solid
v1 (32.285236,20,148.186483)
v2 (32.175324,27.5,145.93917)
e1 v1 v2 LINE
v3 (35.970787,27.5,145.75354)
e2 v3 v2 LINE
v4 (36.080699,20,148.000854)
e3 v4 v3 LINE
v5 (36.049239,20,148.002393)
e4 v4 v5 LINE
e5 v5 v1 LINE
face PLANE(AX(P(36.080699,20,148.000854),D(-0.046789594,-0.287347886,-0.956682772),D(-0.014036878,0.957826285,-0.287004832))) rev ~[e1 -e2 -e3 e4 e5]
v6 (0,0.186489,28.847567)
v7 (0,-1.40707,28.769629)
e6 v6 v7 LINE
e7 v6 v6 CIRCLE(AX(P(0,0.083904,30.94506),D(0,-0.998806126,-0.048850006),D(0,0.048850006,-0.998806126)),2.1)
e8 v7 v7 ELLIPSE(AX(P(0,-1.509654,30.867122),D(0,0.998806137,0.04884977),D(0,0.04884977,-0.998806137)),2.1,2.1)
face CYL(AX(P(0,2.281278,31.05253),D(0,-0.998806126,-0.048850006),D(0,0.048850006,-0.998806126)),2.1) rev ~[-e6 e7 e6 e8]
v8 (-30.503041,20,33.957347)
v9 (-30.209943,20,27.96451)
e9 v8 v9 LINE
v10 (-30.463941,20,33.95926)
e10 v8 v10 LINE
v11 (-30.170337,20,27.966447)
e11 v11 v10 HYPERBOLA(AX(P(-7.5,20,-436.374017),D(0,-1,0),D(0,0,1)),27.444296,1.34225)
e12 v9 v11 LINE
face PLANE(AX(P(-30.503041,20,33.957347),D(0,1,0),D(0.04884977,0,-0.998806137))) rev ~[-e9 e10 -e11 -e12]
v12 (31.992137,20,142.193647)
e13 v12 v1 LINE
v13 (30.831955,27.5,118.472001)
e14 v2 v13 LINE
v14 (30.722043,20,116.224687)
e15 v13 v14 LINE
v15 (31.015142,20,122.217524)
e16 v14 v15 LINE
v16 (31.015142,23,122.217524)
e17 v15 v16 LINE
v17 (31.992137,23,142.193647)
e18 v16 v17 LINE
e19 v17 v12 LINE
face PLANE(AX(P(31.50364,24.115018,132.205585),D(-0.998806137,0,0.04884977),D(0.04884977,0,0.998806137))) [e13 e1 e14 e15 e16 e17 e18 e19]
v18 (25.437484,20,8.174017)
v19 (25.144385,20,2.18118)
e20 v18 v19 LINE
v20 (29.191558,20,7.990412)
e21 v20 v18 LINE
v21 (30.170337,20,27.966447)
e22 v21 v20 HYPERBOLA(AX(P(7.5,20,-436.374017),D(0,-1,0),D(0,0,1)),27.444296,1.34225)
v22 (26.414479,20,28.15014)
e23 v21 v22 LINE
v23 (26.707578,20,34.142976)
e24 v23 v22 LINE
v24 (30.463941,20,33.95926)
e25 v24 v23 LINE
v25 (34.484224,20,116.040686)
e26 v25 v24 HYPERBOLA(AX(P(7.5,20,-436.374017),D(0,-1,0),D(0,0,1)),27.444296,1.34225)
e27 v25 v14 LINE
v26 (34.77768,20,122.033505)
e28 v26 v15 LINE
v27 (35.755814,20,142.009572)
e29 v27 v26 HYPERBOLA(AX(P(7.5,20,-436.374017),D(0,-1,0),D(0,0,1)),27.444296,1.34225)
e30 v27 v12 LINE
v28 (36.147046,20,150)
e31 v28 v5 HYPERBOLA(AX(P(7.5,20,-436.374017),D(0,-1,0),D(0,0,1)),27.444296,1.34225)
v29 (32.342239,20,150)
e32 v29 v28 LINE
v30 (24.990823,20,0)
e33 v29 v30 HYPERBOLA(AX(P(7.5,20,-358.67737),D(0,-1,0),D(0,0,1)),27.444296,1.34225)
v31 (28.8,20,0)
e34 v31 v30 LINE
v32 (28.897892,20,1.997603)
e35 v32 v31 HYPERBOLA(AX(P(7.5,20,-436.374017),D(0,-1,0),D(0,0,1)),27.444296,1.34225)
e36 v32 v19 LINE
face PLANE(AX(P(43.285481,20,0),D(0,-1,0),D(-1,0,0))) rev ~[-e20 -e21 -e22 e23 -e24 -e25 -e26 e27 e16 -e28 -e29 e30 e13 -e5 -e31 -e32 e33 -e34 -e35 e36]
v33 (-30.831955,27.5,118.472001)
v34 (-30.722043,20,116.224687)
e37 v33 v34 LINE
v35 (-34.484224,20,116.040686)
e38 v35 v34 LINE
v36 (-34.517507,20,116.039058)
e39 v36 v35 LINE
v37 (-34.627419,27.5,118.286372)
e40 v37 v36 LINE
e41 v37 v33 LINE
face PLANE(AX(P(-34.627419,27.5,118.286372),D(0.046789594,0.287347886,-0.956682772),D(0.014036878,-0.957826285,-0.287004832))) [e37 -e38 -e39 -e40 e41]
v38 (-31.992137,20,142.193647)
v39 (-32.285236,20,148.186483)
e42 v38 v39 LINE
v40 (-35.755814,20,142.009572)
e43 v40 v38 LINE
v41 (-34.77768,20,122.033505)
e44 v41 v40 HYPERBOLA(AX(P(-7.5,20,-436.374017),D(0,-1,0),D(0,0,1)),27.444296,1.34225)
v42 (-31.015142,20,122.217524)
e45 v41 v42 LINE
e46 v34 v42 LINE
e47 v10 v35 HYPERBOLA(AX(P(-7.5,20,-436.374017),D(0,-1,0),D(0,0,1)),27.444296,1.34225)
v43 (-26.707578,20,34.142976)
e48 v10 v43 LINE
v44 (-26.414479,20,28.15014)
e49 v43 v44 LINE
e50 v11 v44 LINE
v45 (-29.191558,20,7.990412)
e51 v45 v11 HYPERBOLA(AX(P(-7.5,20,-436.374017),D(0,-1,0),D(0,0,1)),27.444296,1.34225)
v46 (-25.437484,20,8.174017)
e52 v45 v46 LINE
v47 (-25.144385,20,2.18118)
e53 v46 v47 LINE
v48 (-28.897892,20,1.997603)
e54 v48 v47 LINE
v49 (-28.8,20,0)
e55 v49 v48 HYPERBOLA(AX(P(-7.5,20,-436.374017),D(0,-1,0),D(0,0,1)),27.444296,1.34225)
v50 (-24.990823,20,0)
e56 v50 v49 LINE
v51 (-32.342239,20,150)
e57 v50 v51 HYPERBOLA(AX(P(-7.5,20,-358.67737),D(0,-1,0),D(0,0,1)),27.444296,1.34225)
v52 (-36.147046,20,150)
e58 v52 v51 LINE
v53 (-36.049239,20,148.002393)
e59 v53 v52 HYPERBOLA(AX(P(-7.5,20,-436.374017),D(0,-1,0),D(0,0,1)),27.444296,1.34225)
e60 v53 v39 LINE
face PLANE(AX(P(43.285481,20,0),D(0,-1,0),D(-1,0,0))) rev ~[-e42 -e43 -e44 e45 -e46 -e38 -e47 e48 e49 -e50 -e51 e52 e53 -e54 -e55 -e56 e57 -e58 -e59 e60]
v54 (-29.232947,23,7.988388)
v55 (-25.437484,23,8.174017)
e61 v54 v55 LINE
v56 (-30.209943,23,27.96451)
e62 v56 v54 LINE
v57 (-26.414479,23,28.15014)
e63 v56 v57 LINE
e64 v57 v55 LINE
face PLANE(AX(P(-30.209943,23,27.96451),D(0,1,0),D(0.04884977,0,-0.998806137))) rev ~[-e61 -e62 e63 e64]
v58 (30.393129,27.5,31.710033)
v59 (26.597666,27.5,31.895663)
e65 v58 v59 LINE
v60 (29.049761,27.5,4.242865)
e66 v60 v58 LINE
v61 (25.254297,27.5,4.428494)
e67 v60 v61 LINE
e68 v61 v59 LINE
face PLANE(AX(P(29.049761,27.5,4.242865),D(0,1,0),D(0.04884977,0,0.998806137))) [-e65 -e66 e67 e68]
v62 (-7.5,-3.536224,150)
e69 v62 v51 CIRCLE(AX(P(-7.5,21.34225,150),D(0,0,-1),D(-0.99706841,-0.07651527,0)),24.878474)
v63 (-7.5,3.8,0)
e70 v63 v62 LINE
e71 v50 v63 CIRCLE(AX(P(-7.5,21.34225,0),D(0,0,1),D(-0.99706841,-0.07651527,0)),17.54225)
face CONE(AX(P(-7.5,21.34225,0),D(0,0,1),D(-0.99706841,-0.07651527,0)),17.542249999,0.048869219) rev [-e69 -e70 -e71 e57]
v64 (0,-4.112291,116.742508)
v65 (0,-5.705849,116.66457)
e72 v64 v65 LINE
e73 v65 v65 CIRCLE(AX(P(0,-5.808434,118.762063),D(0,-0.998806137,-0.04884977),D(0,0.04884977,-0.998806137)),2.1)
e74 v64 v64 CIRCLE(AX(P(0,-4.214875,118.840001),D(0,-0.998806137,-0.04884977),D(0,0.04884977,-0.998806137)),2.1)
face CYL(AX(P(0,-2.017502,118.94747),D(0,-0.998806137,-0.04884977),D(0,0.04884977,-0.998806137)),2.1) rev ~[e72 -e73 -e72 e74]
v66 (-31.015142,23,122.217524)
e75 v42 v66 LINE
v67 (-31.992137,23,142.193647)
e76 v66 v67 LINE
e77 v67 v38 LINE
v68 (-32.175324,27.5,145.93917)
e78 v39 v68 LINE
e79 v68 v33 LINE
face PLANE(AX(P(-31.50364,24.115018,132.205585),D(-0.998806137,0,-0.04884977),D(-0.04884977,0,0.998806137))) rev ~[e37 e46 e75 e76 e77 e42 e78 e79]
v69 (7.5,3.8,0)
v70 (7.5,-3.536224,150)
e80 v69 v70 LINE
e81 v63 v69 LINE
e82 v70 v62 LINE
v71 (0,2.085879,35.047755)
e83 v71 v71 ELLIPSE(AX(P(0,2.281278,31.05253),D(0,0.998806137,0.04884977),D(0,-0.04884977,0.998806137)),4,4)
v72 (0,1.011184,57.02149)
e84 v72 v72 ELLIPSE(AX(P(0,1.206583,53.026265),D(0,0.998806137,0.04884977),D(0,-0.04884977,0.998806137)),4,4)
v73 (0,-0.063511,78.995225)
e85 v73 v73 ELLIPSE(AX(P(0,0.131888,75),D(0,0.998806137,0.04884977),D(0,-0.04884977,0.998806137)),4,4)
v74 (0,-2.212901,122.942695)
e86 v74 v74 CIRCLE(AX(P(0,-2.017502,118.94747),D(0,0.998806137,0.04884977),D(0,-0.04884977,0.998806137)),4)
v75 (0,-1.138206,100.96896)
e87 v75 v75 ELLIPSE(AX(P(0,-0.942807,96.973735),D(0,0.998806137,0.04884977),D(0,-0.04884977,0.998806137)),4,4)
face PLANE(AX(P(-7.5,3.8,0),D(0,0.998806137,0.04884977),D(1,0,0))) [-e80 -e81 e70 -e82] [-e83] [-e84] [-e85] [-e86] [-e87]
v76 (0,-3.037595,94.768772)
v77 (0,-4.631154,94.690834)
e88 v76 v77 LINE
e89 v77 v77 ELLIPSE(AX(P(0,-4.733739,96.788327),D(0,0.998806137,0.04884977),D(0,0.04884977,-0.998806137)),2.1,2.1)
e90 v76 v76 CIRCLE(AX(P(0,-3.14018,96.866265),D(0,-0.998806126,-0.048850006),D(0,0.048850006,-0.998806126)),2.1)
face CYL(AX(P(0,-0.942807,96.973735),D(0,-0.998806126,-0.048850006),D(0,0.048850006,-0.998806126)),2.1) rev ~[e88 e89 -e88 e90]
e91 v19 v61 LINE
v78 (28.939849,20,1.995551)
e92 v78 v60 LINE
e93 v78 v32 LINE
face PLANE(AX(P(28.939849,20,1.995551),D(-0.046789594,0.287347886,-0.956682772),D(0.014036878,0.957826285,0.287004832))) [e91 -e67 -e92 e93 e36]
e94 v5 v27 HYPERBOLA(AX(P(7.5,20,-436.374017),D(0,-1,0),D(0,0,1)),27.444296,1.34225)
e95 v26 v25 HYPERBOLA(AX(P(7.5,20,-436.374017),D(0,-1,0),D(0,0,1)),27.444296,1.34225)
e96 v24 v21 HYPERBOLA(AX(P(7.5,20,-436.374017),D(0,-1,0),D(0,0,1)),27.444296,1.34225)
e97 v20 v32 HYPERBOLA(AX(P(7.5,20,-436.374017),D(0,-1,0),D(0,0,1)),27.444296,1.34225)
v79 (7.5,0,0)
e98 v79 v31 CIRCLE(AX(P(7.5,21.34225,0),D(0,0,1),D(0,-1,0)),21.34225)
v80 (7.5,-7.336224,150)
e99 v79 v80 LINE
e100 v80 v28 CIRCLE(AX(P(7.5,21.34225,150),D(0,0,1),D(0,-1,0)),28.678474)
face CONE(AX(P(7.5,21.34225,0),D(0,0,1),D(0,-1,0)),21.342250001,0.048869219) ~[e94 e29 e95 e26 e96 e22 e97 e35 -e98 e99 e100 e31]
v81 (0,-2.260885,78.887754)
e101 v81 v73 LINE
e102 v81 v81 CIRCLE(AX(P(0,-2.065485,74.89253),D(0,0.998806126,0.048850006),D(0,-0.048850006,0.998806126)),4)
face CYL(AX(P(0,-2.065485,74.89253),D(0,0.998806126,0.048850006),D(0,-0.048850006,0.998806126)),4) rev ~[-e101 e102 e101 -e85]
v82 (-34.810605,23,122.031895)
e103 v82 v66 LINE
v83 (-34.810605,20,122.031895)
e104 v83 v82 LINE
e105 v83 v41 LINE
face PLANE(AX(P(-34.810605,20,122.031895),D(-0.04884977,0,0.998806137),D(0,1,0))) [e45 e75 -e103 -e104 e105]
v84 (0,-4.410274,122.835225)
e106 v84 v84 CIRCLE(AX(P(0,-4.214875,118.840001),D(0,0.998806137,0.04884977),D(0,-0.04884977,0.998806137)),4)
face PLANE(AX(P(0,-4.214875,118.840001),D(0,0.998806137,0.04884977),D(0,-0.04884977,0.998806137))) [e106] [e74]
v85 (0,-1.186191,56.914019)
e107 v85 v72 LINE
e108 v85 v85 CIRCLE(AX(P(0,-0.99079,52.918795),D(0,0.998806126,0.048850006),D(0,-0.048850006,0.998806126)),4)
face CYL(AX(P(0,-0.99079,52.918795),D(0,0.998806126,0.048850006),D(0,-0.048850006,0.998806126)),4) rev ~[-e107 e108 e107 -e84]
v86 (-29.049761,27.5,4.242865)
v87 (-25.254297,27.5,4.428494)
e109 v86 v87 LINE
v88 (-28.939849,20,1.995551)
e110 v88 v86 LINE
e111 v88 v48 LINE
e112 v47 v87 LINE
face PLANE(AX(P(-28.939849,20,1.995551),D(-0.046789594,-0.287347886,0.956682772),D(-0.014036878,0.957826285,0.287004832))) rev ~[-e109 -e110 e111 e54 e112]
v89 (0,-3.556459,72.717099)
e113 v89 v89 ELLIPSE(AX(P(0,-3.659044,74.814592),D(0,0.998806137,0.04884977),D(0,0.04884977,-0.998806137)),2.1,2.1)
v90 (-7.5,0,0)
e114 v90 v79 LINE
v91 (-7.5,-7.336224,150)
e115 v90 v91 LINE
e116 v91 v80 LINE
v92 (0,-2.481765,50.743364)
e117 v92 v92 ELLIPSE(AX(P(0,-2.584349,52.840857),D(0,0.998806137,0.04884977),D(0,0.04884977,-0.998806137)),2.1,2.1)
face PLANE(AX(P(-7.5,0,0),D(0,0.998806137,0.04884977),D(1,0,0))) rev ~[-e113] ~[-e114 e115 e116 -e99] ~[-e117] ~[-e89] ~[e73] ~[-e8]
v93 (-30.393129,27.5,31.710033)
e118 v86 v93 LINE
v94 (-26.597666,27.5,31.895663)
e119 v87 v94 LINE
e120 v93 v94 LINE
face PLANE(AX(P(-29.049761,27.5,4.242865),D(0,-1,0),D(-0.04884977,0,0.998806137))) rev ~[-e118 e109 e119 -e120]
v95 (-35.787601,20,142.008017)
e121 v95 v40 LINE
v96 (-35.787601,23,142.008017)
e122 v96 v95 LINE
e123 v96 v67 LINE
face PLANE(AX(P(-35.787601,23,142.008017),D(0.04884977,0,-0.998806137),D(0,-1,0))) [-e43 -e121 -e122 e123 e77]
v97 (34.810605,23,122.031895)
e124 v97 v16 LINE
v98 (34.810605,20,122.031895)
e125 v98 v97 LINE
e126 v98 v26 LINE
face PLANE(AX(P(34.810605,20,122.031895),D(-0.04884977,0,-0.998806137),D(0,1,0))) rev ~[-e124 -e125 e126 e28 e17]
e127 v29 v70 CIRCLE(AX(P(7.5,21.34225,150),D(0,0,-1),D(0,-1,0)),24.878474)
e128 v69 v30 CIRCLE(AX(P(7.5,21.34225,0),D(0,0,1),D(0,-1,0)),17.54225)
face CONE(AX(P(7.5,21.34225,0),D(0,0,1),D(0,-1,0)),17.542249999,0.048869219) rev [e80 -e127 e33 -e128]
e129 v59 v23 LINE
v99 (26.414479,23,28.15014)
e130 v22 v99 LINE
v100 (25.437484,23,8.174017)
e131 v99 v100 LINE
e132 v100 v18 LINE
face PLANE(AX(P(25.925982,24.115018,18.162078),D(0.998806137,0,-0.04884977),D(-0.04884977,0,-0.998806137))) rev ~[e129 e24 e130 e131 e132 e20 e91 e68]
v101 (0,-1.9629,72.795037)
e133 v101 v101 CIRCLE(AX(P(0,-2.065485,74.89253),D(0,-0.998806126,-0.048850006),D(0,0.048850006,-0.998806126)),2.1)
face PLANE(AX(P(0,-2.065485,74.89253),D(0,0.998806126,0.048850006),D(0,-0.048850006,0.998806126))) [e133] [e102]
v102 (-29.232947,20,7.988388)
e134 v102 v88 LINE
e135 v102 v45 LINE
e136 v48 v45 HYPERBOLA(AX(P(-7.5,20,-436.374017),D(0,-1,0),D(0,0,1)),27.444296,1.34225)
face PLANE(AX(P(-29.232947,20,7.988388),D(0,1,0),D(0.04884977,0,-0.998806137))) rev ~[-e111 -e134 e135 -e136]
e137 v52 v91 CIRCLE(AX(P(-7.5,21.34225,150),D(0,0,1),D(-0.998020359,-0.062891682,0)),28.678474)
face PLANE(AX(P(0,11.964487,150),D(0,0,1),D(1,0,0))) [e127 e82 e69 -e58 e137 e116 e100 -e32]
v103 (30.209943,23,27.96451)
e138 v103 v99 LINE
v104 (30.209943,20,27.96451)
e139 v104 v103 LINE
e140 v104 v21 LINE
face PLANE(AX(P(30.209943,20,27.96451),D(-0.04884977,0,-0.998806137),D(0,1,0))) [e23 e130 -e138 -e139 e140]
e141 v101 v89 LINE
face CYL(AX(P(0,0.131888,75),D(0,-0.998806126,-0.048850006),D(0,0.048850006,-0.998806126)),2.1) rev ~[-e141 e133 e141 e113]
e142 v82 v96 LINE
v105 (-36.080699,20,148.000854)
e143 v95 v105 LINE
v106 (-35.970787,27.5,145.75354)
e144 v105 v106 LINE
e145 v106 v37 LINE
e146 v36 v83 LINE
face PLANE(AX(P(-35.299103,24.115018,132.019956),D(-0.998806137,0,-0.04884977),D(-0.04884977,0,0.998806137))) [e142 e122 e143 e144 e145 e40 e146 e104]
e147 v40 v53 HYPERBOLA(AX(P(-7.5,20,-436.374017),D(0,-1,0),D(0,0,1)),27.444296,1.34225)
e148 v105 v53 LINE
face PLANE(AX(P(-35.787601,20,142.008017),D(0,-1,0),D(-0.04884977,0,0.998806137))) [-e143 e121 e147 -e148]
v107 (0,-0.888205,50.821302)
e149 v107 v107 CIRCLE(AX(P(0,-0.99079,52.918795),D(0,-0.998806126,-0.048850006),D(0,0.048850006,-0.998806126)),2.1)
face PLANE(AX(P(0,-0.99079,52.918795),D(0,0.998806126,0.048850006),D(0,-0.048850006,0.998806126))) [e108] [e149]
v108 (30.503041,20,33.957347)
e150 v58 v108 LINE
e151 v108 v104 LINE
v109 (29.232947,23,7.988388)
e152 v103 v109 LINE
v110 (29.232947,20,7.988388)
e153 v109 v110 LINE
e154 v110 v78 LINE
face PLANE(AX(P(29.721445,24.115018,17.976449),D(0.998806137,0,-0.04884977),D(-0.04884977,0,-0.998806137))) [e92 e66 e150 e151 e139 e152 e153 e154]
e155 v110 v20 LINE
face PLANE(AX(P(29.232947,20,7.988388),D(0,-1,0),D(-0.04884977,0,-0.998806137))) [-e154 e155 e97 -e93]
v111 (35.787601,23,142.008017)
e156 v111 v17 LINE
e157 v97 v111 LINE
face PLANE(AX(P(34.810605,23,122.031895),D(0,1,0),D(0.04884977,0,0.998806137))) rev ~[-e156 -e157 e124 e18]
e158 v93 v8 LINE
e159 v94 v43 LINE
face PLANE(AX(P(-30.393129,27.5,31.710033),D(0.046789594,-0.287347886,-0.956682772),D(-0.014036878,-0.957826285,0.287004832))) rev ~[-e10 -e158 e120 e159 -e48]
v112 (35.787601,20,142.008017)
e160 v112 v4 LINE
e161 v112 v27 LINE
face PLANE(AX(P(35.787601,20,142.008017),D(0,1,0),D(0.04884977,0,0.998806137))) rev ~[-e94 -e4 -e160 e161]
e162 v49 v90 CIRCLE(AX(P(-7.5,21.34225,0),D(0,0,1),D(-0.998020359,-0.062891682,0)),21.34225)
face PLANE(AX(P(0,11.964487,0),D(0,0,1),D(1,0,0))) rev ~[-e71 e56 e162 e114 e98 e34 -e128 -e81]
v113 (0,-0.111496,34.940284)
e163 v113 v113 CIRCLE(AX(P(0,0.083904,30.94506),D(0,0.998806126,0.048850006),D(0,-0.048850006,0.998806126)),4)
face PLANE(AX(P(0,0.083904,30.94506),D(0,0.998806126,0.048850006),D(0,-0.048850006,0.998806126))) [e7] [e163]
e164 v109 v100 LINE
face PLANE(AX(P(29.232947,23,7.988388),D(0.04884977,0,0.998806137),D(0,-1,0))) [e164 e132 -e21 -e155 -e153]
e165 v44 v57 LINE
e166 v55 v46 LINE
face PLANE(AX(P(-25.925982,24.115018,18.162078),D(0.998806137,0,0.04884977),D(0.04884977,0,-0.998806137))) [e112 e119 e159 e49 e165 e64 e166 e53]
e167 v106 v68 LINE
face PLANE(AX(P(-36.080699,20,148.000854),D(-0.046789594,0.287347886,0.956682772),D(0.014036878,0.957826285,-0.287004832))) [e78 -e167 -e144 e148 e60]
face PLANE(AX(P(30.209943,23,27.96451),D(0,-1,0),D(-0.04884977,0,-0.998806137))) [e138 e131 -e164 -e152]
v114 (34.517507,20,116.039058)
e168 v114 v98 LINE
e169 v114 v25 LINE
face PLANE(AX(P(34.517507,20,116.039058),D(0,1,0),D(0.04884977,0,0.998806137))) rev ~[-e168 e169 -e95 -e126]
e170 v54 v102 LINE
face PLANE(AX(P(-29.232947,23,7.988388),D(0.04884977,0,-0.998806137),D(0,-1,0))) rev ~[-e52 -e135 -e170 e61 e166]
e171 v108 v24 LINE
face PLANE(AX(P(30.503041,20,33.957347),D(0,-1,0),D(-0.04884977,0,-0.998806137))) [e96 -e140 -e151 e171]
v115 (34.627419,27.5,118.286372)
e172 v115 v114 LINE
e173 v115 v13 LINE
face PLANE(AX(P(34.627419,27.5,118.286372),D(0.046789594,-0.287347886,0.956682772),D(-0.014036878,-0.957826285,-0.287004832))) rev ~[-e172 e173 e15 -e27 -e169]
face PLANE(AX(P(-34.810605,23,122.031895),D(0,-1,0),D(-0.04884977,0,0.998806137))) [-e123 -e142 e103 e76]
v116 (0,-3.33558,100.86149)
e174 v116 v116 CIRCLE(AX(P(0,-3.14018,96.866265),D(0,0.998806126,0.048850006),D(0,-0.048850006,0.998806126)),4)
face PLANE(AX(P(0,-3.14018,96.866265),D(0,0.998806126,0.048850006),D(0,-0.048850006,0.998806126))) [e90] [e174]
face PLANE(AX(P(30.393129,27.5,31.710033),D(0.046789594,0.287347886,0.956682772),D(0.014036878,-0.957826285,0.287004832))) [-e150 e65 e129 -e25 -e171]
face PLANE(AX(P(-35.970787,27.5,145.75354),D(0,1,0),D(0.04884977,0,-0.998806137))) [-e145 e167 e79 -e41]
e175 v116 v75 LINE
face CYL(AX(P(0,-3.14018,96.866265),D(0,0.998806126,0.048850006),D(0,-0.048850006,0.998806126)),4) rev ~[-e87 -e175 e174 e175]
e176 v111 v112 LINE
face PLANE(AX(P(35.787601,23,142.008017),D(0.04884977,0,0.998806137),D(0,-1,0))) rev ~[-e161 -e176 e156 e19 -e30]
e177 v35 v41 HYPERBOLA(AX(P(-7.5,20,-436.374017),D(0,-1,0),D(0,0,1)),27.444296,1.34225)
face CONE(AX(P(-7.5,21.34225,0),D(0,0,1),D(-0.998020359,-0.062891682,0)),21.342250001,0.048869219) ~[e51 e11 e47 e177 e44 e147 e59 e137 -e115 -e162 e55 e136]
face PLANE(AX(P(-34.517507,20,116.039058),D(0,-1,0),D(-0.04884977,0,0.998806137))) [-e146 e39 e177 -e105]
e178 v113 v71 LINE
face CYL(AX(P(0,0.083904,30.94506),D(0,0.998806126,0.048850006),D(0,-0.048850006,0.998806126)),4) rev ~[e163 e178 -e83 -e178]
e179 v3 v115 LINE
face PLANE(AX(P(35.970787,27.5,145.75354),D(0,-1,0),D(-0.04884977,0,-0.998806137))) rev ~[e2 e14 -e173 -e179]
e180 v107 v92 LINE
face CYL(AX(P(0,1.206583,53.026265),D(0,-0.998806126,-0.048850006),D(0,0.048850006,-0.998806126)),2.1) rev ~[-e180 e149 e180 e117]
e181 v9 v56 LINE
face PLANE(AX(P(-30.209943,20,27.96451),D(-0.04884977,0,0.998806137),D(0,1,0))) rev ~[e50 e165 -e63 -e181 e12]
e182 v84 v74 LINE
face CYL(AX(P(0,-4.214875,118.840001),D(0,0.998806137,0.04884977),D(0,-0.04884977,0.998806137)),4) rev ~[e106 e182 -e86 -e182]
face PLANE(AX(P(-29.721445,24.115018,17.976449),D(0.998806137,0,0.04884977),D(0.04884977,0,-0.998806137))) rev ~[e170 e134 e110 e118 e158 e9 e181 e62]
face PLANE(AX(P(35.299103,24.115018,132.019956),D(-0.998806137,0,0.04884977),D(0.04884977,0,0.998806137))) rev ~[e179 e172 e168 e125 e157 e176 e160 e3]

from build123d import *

# Parameters (mm, degrees)
BOSS_EXTRUDE1_DEPTH                       = 150
BOSS_EXTRUDE1_DRAFT                       = -2.8
CUT_EXTRUDE1_DEPTH                        = 157.704023919
CUT_EXTRUDE1_DRAFT                        = -2.8
SKETCH4_W                                 = 86.570961738
SKETCH4_H                                 = 17.749989686
CUT_EXTRUDE2_DEPTH                        = 157.704023919
BOSS_EXTRUDE2_DEPTH                       = 3.8
BOSS_EXTRUDE3_DEPTH                       = 3.8
CBORE_FOR_M4_SBHCS1_D                     = 4.2
CBORE_FOR_M4_SBHCS1_CBORE_D               = 8
CBORE_FOR_M4_SBHCS1_CBORE_DEPTH           = 2.2
CBORE_FOR_M4_SBHCS1_ON_FACE_2_D           = 4.2
CBORE_FOR_M4_SBHCS1_ON_FACE_2_CBORE_D     = 8
CBORE_FOR_M4_SBHCS1_ON_FACE_2_CBORE_DEPTH = 2.2
CBORE_FOR_M4_SBHCS1_ON_FACE_3_D           = 4.2
CBORE_FOR_M4_SBHCS1_ON_FACE_3_CBORE_D     = 8
CBORE_FOR_M4_SBHCS1_ON_FACE_3_CBORE_DEPTH = 2.2
CBORE_FOR_M4_SBHCS1_ON_FACE_4_D           = 4.2
CBORE_FOR_M4_SBHCS1_ON_FACE_4_CBORE_D     = 8
CBORE_FOR_M4_SBHCS1_ON_FACE_4_CBORE_DEPTH = 2.2
CBORE_FOR_M4_SBHCS1_ON_FACE_5_D           = 4.2
CBORE_FOR_M4_SBHCS1_ON_FACE_5_CBORE_D     = 8
CBORE_FOR_M4_SBHCS1_ON_FACE_5_CBORE_DEPTH = 2.2


with BuildPart() as part:
    # Sketch1 → Boss-Extrude1 (with draft: the straight prism first)
    with BuildSketch(Plane.XY):
        with BuildLine():
            ThreePointArc((-28.8, 20), (-22.10898696, 5.783678888), (-7.5, 0))
            Line((-7.5, 0), (7.5, 0))
            ThreePointArc((7.5, 0), (22.10898696, 5.783678888), (28.8, 20))
            Line((28.8, 20), (-28.8, 20))
        make_face()
    extrude(amount=BOSS_EXTRUDE1_DEPTH)
    # Boss-Extrude1: the draft: its side faces are tilted about the plane it starts from
    boss_extrude1_sides = [part.faces().sort_by_distance(p)[0] for p in [
        (22.10898696, 5.783678888, 75),
        (0, 20, 75),
        (-22.10898696, 5.783678888, 75),
        (0, 0, 75),
    ]]
    draft(boss_extrude1_sides, Plane.XY, BOSS_EXTRUDE1_DRAFT)


with BuildPart() as cut_extrude1_tool:
    # Sketch1<3> → Cut-Extrude1 (with draft: the straight prism first)
    with BuildSketch(Plane.XY):
        with BuildLine():
            Line((24.990823308, 20), (-24.990823308, 20))
            ThreePointArc((-24.990823308, 20), (-19.420244335, 8.472195219), (-7.5, 3.8))
            Line((-7.5, 3.8), (7.5, 3.8))
            ThreePointArc((7.5, 3.8), (19.420244335, 8.472195219), (24.990823308, 20))
        make_face()
    extrude(amount=CUT_EXTRUDE1_DEPTH)
    # Cut-Extrude1: the draft: its side faces are tilted about the plane it starts from
    cut_extrude1_sides = [cut_extrude1_tool.faces().sort_by_distance(p)[0] for p in [
        (0, 3.8, 78.85201196),
        (19.420244335, 8.472195219, 78.85201196),
        (0, 20, 78.85201196),
        (-19.420244335, 8.472195219, 78.85201196),
    ]]
    draft(cut_extrude1_sides, Plane.XY, CUT_EXTRUDE1_DRAFT)


with BuildPart() as part_1:
    add(part.part)

    # Cut-Extrude1: cut by cut_extrude1_tool
    add(cut_extrude1_tool.part, mode=Mode.SUBTRACT)

    # Sketch4 → Cut-Extrude2 (cut, through all)
    with BuildSketch(Plane(origin=(0, 0, 0), x_dir=(-1, 0, 0), z_dir=(0, 0, -1))):
        with Locations((0, 28.874994843)):
            Rectangle(SKETCH4_W, SKETCH4_H)
    extrude(amount=-CUT_EXTRUDE2_DEPTH, mode=Mode.SUBTRACT)

    # Sketch5 → Boss-Extrude2 (add)
    with BuildSketch(Plane(origin=(28.773423739, 0, -1.407255195), x_dir=(-0.04884976979561336, 0, -0.9988061373414341), z_dir=(0.9988061373414341, 0, -0.04884976979561336))):
        Polygon((-149.586695466, 20), (-147.336695466, 27.5), (-119.836695466, 27.5), (-117.586695466, 20), (-123.586695466, 20), (-123.586695466, 23), (-143.586695466, 23), (-143.586695466, 20), align=None)
        Polygon((-9.40687337, 23), (-9.40687337, 20), (-3.40687337, 20), (-5.65687337, 27.5), (-33.15687337, 27.5), (-35.40687337, 20), (-29.40687337, 20), (-29.40687337, 23), align=None)
    extrude(amount=-BOSS_EXTRUDE2_DEPTH)

    # Sketch6 → Boss-Extrude3 (add)
    with BuildSketch(Plane(origin=(-28.773423739, 0, -1.407255195), x_dir=(-0.04884976979561336, 0, 0.9988061373414341), z_dir=(-0.9988061373414341, 0, -0.04884976979561336))):
        Polygon((149.586695466, 20), (147.336695466, 27.5), (119.836695466, 27.5), (117.586695466, 20), (123.586695466, 20), (123.586695466, 23), (143.586695466, 23), (143.586695466, 20), align=None)
        Polygon((9.40687337, 23), (9.40687337, 20), (3.40687337, 20), (5.65687337, 27.5), (33.15687337, 27.5), (35.40687337, 20), (29.40687337, 20), (29.40687337, 23), align=None)
    extrude(amount=-BOSS_EXTRUDE3_DEPTH)

    # CBORE for M4 SBHCS1 (through all)
    with Locations(Plane(origin=(0, -2.017501828, 118.947470043), x_dir=(0, -0.048849769796, 0.998806137341), z_dir=(0, 0.998806137341, 0.048849769796))):
        with Locations((0, 0)):
            CounterBoreHole(CBORE_FOR_M4_SBHCS1_D / 2, CBORE_FOR_M4_SBHCS1_CBORE_D / 2, CBORE_FOR_M4_SBHCS1_CBORE_DEPTH)

    # CBORE for M4 SBHCS1 on face 2 (through all)
    with Locations(Plane(origin=(0, -0.942806892, 96.973735022), x_dir=(0, -0.048850006152, 0.998806125782), z_dir=(0, 0.998806125782, 0.048850006152))):
        with Locations((0, 0)):
            CounterBoreHole(CBORE_FOR_M4_SBHCS1_ON_FACE_2_D / 2, CBORE_FOR_M4_SBHCS1_ON_FACE_2_CBORE_D / 2, CBORE_FOR_M4_SBHCS1_ON_FACE_2_CBORE_DEPTH)

    # CBORE for M4 SBHCS1 on face 3 (through all)
    with Locations(Plane(origin=(0, 0.131888043, 75), x_dir=(0, -0.048850006152, 0.998806125782), z_dir=(0, 0.998806125782, 0.048850006152))):
        with Locations((0, 0)):
            CounterBoreHole(CBORE_FOR_M4_SBHCS1_ON_FACE_3_D / 2, CBORE_FOR_M4_SBHCS1_ON_FACE_3_CBORE_D / 2, CBORE_FOR_M4_SBHCS1_ON_FACE_3_CBORE_DEPTH)

    # CBORE for M4 SBHCS1 on face 4 (through all)
    with Locations(Plane(origin=(0, 1.206582979, 53.026264978), x_dir=(0, -0.048850006152, 0.998806125782), z_dir=(0, 0.998806125782, 0.048850006152))):
        with Locations((0, 0)):
            CounterBoreHole(CBORE_FOR_M4_SBHCS1_ON_FACE_4_D / 2, CBORE_FOR_M4_SBHCS1_ON_FACE_4_CBORE_D / 2, CBORE_FOR_M4_SBHCS1_ON_FACE_4_CBORE_DEPTH)

    # CBORE for M4 SBHCS1 on face 5 (through all)
    with Locations(Plane(origin=(0, 2.281277914, 31.052529957), x_dir=(0, -0.048850006152, 0.998806125782), z_dir=(0, 0.998806125782, 0.048850006152))):
        with Locations((0, 0)):
            CounterBoreHole(CBORE_FOR_M4_SBHCS1_ON_FACE_5_D / 2, CBORE_FOR_M4_SBHCS1_ON_FACE_5_CBORE_D / 2, CBORE_FOR_M4_SBHCS1_ON_FACE_5_CBORE_DEPTH)


solid = part_1.part
